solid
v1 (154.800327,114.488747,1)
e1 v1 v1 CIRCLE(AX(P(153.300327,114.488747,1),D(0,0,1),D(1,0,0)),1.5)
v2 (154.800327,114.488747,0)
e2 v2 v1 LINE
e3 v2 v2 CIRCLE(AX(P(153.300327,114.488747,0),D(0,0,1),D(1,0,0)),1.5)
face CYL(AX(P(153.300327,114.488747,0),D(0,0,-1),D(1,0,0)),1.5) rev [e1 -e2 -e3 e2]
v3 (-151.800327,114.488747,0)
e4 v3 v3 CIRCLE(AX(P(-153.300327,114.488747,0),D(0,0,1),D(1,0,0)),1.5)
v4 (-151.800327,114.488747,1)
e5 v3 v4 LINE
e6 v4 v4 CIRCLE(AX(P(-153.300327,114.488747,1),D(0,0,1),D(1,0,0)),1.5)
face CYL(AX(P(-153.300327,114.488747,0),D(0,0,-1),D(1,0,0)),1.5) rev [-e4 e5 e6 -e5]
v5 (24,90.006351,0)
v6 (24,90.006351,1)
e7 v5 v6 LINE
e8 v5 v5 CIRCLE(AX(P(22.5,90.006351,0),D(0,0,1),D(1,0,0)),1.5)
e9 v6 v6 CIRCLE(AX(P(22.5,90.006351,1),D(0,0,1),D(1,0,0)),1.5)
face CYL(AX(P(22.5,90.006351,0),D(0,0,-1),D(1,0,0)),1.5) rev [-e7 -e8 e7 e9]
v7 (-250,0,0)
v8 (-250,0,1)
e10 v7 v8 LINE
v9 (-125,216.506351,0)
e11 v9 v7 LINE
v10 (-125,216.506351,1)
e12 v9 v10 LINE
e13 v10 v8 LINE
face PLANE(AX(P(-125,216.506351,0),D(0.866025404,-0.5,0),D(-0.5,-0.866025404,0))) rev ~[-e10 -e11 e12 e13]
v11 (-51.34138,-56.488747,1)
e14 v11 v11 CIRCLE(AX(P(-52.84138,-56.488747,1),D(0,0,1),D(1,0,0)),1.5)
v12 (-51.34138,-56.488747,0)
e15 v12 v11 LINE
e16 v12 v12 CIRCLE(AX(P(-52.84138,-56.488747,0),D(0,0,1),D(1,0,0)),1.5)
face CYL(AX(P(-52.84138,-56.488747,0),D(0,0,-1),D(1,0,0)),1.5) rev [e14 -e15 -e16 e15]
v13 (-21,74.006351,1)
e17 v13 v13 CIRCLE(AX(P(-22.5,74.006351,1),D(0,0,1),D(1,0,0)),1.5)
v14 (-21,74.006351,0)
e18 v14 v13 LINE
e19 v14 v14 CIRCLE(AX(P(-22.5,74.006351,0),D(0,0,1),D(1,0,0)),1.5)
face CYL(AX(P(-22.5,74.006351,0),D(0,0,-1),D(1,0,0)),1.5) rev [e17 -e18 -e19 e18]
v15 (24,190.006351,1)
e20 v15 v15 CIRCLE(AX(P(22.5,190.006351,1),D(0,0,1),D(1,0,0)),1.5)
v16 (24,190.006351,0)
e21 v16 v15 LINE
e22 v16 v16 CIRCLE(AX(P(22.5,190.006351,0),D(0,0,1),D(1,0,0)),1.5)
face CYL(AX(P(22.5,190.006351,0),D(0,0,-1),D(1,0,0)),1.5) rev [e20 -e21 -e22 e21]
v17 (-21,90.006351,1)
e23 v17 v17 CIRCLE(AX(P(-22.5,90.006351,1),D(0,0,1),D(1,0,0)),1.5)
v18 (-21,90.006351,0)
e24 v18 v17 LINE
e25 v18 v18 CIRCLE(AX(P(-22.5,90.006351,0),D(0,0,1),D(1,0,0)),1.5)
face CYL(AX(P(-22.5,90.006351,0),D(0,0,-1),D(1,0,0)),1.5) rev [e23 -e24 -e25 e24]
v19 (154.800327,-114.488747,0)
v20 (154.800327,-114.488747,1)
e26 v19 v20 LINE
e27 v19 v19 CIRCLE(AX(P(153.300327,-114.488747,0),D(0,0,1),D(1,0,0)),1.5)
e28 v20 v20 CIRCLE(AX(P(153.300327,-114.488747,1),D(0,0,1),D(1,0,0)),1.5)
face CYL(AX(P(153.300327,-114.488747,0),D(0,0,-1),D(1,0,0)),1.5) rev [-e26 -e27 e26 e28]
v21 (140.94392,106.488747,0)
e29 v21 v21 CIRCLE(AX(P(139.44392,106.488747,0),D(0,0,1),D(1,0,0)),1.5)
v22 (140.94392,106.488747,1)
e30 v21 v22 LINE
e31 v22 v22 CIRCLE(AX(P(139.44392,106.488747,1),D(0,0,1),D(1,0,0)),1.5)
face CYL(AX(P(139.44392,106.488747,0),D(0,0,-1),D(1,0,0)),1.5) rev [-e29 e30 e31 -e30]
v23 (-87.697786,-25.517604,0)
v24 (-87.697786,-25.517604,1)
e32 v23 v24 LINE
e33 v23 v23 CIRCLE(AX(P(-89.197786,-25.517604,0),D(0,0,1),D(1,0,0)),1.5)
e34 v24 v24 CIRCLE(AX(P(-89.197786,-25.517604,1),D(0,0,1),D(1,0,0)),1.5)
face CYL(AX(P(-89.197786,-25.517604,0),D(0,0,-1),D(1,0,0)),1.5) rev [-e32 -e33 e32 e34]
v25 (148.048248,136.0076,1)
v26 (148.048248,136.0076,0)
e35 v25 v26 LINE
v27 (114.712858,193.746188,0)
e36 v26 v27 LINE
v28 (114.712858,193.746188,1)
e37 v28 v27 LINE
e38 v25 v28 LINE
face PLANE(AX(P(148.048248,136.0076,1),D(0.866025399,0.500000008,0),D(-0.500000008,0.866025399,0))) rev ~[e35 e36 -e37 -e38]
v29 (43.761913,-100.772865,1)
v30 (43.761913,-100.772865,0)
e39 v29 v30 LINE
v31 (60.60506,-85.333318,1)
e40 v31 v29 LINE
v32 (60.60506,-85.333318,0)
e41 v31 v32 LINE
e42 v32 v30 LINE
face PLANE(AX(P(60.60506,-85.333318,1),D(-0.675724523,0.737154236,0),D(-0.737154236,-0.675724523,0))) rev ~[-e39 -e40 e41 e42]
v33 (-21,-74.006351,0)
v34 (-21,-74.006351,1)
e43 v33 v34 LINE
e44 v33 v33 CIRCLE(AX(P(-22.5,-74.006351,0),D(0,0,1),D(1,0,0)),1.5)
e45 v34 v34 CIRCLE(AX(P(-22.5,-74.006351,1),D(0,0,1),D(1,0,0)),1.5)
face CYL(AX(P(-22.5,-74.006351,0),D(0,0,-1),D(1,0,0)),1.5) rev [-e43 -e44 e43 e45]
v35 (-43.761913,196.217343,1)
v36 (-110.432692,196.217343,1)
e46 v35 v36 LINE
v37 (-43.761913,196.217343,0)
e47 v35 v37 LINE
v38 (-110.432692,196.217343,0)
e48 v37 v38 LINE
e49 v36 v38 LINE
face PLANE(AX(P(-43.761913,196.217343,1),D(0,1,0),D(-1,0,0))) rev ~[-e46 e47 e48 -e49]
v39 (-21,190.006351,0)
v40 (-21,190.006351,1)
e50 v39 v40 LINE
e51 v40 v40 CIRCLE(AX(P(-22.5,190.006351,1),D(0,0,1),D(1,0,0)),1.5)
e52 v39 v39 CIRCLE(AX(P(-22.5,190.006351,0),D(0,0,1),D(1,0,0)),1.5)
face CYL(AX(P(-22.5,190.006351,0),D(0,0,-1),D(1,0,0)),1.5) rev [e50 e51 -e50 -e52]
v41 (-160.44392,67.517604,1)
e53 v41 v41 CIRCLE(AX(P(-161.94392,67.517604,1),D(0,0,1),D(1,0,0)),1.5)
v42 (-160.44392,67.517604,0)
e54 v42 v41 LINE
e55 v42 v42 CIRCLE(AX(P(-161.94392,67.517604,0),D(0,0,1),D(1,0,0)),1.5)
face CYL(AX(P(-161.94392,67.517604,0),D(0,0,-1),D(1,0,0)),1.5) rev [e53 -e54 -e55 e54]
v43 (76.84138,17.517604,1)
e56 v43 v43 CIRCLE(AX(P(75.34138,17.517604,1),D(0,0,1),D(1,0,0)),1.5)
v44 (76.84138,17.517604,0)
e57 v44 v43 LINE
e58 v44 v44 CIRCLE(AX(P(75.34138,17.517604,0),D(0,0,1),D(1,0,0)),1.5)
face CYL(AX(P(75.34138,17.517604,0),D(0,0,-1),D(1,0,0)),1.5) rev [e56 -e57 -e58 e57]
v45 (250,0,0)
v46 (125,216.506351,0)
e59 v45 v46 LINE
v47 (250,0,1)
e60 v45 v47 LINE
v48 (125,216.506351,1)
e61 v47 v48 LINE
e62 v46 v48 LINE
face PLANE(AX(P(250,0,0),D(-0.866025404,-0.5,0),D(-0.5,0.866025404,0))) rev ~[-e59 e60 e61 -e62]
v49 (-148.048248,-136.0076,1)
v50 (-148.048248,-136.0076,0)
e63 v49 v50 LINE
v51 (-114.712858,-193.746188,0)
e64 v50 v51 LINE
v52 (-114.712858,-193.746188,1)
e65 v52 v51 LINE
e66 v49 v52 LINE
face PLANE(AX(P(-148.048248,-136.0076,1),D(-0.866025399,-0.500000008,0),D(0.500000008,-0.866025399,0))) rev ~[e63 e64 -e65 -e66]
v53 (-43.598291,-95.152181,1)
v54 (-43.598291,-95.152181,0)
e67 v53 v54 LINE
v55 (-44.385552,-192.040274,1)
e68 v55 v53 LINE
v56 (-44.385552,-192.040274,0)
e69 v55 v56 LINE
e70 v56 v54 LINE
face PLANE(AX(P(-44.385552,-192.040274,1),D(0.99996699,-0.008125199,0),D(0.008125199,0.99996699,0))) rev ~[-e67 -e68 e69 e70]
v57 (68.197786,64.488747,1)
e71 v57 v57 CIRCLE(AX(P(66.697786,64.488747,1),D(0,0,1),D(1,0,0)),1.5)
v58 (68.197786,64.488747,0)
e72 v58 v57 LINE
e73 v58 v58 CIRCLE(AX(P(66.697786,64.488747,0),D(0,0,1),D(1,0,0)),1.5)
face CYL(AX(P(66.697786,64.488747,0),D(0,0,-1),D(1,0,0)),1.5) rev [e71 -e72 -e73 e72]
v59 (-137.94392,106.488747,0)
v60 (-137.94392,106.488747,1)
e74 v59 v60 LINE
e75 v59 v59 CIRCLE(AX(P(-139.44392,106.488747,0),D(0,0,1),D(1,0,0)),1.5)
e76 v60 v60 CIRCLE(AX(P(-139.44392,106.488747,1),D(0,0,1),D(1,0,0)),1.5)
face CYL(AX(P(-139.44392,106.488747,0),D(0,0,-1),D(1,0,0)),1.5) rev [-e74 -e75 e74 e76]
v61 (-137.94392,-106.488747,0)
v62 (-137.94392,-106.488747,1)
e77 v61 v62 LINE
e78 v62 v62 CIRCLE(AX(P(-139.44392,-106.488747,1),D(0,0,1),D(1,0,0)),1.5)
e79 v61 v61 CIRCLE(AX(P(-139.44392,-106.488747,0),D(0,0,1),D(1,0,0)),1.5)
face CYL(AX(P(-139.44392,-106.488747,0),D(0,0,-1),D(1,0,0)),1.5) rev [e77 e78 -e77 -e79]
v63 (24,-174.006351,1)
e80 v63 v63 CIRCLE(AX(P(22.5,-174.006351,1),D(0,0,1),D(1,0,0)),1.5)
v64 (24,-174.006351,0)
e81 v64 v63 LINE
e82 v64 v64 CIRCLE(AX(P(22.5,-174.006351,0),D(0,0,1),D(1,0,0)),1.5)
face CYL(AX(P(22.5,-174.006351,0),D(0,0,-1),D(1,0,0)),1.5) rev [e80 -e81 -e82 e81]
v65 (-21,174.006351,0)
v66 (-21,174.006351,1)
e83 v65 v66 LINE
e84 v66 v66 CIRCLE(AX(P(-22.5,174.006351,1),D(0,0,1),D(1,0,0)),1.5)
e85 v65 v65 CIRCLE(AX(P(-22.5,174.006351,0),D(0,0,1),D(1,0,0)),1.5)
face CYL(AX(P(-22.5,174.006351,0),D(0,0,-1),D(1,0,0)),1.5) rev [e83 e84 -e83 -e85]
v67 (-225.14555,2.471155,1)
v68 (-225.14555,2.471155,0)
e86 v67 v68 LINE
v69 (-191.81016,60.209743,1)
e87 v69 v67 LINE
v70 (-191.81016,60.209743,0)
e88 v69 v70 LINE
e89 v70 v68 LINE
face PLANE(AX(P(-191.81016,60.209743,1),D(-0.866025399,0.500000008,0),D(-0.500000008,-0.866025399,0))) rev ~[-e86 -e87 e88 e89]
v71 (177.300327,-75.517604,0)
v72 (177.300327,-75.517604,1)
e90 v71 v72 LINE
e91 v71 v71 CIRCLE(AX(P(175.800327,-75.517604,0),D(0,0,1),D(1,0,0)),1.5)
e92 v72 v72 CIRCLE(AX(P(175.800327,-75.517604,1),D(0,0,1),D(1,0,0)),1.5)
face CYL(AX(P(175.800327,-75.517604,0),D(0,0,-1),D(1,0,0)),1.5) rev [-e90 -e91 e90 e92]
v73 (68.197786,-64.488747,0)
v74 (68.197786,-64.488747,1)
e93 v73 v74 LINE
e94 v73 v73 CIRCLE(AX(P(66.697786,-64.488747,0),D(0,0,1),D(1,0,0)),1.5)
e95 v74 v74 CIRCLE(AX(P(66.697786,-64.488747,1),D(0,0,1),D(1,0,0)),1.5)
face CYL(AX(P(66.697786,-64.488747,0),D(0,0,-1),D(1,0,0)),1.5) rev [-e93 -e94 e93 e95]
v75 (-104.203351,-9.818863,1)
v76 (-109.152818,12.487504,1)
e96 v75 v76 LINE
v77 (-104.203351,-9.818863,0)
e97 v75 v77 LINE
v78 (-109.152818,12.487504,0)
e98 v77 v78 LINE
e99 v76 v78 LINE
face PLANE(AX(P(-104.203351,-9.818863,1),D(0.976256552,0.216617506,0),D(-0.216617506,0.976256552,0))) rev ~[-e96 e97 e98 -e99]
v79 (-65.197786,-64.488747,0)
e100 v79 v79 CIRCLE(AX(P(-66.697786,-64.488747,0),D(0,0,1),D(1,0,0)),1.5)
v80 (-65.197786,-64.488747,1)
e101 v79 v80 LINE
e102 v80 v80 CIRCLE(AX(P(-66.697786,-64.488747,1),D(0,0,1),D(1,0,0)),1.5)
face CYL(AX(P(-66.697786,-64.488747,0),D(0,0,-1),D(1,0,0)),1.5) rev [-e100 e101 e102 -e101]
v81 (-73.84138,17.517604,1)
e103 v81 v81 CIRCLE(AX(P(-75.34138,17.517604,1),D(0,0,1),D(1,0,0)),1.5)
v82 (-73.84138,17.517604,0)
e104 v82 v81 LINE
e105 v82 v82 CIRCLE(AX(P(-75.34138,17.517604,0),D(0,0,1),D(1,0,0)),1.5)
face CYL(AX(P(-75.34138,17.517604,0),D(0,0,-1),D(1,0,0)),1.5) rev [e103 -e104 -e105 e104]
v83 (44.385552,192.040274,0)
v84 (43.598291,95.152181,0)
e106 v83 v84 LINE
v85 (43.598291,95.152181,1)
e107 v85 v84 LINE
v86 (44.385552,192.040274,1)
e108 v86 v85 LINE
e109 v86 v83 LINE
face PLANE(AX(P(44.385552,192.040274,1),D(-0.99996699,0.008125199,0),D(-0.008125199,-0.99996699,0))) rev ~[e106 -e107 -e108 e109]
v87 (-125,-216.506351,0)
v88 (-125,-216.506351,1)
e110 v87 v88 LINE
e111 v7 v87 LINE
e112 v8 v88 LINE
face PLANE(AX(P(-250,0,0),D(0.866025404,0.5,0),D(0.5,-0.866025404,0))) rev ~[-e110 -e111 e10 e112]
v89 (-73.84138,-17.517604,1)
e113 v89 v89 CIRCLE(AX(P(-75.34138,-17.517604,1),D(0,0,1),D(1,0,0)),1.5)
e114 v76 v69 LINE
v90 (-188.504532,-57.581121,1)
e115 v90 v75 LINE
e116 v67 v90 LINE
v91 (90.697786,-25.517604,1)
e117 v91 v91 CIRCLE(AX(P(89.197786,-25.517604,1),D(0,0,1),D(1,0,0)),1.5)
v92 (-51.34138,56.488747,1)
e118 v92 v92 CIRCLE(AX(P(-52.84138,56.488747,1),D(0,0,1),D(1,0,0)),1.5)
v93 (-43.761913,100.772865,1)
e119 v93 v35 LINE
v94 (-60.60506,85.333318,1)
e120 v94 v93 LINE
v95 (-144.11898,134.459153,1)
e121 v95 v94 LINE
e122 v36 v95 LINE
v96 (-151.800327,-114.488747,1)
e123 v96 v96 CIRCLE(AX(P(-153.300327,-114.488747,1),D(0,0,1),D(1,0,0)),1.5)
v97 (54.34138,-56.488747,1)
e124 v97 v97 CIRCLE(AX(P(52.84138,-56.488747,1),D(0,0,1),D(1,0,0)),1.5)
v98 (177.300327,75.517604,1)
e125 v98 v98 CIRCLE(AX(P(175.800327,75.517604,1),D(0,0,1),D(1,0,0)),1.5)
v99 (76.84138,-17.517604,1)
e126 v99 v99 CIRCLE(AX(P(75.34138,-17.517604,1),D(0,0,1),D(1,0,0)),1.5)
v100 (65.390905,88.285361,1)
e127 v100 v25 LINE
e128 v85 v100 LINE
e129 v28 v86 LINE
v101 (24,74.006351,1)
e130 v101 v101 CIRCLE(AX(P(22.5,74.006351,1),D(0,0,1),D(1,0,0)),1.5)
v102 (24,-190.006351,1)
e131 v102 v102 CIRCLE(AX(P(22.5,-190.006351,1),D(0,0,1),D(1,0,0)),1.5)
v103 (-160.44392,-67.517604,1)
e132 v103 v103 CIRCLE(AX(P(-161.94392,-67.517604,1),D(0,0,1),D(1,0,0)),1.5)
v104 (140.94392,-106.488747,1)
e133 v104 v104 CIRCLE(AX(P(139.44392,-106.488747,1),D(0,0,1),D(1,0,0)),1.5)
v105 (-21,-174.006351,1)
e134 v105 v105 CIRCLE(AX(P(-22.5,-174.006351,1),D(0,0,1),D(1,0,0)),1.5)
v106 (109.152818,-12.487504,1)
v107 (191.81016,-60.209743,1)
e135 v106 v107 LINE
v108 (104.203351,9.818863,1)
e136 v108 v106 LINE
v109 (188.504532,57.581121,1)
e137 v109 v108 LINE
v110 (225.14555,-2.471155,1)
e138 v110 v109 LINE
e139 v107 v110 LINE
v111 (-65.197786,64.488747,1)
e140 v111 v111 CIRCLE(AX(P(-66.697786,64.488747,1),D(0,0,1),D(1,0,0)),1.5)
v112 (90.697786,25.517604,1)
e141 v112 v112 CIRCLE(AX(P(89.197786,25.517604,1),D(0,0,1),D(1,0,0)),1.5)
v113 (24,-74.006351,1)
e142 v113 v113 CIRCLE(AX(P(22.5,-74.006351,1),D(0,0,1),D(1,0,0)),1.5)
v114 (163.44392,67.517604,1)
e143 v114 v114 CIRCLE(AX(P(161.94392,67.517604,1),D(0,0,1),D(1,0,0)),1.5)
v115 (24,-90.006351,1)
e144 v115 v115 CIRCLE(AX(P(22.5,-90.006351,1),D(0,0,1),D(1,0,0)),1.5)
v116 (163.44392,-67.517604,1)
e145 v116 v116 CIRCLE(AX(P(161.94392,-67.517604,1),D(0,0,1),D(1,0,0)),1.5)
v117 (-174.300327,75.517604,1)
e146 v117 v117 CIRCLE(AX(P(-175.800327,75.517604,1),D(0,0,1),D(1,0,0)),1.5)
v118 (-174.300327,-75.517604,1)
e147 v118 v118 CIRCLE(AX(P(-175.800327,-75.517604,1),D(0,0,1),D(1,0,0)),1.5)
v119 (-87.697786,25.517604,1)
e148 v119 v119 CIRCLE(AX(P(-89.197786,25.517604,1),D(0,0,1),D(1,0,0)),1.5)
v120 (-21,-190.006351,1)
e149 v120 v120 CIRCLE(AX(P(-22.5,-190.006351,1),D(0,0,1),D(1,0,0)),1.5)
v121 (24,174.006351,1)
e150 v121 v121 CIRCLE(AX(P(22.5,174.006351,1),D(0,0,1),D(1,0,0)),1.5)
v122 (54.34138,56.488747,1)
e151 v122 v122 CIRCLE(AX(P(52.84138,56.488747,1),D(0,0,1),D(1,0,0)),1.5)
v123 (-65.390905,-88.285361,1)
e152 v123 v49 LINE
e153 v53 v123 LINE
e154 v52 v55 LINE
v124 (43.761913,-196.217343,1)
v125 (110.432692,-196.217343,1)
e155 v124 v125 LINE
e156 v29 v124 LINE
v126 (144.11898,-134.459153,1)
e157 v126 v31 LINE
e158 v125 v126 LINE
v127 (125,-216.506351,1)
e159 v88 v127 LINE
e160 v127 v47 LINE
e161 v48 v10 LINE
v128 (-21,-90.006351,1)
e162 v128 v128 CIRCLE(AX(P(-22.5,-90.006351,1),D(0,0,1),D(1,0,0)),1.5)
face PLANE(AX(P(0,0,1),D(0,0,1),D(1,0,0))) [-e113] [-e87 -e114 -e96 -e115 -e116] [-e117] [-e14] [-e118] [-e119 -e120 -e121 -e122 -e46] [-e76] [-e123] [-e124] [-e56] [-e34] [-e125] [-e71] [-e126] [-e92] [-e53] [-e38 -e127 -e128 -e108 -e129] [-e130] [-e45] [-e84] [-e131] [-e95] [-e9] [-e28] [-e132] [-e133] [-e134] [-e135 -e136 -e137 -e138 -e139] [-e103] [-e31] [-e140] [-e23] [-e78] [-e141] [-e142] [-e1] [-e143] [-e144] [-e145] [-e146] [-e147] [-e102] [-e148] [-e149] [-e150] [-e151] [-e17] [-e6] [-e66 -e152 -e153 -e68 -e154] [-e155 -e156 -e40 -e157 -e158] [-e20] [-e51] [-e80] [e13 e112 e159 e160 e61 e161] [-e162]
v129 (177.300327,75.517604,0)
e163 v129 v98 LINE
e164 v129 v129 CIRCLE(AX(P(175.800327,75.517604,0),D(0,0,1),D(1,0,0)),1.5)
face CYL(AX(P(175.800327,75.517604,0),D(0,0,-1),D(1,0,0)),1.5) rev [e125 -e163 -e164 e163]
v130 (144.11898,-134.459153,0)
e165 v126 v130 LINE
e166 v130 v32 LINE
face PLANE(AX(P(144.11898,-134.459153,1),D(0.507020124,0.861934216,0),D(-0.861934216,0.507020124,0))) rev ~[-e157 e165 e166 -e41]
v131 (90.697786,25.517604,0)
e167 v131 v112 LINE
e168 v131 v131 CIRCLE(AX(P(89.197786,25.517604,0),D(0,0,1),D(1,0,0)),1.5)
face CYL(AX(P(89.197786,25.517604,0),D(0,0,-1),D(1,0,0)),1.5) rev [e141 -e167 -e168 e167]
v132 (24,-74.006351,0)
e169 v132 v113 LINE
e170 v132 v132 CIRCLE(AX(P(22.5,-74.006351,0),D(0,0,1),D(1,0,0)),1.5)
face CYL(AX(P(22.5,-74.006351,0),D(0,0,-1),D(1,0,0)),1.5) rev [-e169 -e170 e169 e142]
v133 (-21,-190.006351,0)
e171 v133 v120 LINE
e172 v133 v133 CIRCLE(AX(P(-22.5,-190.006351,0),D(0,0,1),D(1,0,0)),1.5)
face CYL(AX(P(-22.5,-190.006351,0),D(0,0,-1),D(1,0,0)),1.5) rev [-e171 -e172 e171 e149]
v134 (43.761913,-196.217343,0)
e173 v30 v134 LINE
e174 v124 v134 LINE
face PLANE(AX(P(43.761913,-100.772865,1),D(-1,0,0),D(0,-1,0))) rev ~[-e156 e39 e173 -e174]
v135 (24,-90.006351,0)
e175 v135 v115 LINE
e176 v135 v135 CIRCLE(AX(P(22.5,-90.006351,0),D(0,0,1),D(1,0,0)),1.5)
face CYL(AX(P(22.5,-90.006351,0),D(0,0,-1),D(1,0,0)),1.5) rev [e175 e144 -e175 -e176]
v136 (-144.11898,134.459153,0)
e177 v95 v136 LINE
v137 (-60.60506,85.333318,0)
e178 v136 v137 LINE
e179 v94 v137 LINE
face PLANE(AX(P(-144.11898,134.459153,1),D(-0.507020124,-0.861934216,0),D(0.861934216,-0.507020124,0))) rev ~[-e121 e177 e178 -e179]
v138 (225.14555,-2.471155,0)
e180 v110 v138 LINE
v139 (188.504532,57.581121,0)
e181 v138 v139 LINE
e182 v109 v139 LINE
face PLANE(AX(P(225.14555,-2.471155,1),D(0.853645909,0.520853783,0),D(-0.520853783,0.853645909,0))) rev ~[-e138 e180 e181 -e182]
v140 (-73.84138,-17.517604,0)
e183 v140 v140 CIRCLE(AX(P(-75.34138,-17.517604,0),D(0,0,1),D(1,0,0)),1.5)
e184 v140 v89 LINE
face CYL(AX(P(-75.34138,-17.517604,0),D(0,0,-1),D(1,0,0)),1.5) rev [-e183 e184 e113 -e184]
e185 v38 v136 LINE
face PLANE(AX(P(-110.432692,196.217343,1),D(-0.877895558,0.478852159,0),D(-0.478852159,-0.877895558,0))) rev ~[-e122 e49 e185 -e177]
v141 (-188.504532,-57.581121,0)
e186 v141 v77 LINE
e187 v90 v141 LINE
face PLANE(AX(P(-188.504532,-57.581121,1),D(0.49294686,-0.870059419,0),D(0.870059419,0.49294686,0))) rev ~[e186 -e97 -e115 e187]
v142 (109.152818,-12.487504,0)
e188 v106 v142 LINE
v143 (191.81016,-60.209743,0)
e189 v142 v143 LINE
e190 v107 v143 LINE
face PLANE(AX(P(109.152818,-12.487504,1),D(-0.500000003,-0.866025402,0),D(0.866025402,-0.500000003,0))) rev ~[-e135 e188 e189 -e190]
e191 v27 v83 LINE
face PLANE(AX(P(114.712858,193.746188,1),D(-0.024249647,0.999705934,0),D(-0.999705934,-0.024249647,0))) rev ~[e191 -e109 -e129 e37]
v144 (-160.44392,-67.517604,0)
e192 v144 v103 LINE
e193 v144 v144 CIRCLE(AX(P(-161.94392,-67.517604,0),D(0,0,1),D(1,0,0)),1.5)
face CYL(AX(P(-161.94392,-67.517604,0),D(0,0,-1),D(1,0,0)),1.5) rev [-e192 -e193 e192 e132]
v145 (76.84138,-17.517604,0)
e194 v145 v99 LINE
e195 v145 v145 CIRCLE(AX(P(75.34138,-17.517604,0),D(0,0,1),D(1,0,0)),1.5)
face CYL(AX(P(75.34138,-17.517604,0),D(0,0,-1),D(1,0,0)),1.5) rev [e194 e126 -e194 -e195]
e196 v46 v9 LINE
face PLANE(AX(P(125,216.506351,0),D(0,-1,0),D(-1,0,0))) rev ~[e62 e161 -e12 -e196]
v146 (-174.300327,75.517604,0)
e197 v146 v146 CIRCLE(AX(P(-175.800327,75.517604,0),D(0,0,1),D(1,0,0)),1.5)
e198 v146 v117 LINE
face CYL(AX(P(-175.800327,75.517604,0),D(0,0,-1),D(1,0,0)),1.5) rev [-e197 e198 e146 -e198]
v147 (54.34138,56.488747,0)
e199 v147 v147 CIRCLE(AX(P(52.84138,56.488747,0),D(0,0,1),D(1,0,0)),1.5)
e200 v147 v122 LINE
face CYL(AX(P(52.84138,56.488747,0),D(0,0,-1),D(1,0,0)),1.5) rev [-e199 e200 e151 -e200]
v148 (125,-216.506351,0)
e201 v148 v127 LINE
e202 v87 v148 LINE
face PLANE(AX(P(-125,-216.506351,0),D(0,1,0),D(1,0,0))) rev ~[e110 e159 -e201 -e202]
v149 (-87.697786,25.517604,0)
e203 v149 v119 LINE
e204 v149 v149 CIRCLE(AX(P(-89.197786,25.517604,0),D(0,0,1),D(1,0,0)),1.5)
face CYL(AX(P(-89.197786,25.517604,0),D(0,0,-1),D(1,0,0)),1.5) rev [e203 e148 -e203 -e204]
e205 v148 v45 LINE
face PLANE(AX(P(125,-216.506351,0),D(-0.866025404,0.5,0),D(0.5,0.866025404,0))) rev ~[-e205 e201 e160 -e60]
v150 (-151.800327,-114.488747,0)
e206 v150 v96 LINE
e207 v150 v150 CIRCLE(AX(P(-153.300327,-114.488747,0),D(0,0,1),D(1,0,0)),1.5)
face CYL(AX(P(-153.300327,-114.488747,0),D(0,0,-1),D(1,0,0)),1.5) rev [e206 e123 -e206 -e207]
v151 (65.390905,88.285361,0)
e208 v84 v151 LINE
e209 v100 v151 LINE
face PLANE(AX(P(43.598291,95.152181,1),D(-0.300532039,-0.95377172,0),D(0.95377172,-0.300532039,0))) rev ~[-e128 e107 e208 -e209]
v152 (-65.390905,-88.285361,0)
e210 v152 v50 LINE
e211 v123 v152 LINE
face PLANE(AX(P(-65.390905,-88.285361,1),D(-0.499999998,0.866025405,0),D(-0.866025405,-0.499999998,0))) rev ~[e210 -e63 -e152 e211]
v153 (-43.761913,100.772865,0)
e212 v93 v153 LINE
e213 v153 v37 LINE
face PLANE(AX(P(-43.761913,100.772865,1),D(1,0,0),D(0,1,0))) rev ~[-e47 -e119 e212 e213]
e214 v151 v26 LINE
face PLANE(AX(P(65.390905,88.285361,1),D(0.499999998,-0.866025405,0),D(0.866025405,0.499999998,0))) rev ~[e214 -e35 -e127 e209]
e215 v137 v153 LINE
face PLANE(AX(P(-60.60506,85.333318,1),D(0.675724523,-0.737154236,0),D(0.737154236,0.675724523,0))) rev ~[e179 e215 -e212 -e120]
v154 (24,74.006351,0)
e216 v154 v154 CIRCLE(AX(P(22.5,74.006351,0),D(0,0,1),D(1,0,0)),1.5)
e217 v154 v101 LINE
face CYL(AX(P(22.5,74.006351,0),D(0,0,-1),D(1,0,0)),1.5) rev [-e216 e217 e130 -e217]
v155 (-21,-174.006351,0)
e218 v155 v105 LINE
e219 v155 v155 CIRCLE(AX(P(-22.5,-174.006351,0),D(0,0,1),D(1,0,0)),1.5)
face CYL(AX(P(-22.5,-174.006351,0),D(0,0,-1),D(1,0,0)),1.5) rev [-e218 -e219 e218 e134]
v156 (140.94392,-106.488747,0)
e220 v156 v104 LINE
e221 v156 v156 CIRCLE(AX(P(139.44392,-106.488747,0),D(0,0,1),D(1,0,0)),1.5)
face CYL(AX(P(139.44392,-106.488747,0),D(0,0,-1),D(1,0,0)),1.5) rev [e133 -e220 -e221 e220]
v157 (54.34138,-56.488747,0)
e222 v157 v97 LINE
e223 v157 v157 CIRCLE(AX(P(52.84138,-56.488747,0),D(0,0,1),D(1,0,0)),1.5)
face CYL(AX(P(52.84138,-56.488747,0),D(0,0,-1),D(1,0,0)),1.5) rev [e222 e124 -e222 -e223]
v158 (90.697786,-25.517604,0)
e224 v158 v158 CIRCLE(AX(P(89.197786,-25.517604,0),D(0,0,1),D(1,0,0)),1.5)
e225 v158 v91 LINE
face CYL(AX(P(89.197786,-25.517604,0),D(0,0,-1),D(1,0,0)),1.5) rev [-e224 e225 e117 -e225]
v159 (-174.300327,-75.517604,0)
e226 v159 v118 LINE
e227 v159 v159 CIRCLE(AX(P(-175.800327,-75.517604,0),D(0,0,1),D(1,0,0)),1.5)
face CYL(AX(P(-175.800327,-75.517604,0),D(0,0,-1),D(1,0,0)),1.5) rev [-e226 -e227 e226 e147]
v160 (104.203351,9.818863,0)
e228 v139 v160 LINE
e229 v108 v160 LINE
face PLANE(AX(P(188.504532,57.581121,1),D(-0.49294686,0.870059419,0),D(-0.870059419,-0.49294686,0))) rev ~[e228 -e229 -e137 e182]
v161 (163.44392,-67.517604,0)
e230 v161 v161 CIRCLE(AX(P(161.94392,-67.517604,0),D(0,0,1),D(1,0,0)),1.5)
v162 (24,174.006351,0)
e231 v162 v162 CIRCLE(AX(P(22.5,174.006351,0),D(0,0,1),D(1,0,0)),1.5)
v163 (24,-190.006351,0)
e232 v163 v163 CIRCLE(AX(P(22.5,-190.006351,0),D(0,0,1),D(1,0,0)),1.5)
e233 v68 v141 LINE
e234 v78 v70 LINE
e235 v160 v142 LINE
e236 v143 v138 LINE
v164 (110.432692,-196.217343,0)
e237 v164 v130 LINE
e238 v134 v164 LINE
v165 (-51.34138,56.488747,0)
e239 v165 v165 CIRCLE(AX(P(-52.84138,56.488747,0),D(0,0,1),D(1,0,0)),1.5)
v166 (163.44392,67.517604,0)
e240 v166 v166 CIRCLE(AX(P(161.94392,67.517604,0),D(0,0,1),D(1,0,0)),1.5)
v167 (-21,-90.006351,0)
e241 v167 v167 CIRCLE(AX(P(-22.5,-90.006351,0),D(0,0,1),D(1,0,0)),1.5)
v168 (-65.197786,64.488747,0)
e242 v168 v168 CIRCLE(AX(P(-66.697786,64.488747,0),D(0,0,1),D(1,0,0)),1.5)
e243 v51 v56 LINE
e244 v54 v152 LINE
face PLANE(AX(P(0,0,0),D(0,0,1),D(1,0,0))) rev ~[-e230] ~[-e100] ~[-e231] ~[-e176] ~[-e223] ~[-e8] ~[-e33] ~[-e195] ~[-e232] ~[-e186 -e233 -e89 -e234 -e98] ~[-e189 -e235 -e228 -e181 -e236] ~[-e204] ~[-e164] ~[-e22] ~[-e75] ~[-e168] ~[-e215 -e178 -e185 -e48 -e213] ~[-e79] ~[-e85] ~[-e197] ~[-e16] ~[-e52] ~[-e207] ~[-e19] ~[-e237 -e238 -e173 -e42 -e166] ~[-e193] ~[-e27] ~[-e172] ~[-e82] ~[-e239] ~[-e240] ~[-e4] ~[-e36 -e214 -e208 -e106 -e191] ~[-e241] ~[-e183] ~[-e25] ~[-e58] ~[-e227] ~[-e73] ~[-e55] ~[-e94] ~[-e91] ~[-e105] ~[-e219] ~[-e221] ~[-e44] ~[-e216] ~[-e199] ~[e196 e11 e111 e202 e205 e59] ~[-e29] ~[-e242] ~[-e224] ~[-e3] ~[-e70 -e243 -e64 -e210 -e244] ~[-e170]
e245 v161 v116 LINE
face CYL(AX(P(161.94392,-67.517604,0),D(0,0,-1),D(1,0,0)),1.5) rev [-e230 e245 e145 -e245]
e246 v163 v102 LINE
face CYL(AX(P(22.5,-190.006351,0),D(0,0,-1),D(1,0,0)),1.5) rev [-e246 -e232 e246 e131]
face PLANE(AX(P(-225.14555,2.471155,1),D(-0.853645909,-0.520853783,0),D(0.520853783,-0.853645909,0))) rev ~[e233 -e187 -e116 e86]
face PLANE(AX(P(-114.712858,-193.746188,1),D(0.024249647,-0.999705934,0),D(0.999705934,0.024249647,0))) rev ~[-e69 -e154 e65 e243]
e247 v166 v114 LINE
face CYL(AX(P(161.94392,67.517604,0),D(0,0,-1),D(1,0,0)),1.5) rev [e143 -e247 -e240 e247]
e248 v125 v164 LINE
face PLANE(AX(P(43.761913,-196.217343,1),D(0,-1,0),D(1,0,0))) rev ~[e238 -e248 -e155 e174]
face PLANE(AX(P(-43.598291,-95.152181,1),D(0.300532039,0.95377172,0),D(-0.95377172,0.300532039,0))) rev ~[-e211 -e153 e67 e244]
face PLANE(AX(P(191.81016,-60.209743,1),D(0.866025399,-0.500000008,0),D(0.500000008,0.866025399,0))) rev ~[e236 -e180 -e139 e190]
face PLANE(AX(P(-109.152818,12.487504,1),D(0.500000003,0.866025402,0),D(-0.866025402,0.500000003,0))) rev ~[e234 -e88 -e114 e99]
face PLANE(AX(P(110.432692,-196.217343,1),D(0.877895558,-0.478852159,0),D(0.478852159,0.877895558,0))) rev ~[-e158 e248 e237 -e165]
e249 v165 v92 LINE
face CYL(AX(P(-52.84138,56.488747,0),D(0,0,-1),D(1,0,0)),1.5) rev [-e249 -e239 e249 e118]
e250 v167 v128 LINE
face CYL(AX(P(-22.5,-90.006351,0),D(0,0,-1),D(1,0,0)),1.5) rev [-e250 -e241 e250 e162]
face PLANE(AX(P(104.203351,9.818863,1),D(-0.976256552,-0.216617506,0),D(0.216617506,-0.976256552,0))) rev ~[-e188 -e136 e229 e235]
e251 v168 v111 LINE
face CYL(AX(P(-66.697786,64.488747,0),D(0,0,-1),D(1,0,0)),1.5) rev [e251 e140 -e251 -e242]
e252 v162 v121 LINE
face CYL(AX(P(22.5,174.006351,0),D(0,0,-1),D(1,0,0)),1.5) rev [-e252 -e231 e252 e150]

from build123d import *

# Parameters (mm, degrees)
F0_R     = 1.5
F1_DEPTH = 1
F3_DEPTH = 25


with BuildPart() as f1:
    # F0 (on Top) → F1 (new body)
    with BuildSketch(Plane.XY):
        Polygon((125, -216.506351), (250, 0), (125, 216.506351), (-125, 216.506351), (-250, 0), (-125, -216.506351), align=None)
        with Locations((-153.300327, -114.488747)):
            Circle(F0_R, mode=Mode.SUBTRACT)
        with Locations((-22.5, -190.006351)):
            Circle(F0_R, mode=Mode.SUBTRACT)
        with Locations((-22.5, -174.006351)):
            Circle(F0_R, mode=Mode.SUBTRACT)
        with Locations((-139.44392, -106.488747)):
            Circle(F0_R, mode=Mode.SUBTRACT)
        with Locations((-175.800327, -75.517604)):
            Circle(F0_R, mode=Mode.SUBTRACT)
        with Locations((-161.94392, -67.517604)):
            Circle(F0_R, mode=Mode.SUBTRACT)
        with Locations((-66.697786, -64.488747)):
            Circle(F0_R, mode=Mode.SUBTRACT)
        with Locations((-22.5, -90.006351)):
            Circle(F0_R, mode=Mode.SUBTRACT)
        with Locations((-52.84138, -56.488747)):
            Circle(F0_R, mode=Mode.SUBTRACT)
        with Locations((-22.5, -74.006351)):
            Circle(F0_R, mode=Mode.SUBTRACT)
        with Locations((-89.197786, -25.517604)):
            Circle(F0_R, mode=Mode.SUBTRACT)
        with Locations((-75.34138, -17.517604)):
            Circle(F0_R, mode=Mode.SUBTRACT)
        with Locations((22.5, -190.006351)):
            Circle(F0_R, mode=Mode.SUBTRACT)
        with Locations((22.5, -174.006351)):
            Circle(F0_R, mode=Mode.SUBTRACT)
        with Locations((153.300327, -114.488747)):
            Circle(F0_R, mode=Mode.SUBTRACT)
        with Locations((22.5, -90.006351)):
            Circle(F0_R, mode=Mode.SUBTRACT)
        with Locations((22.5, -74.006351)):
            Circle(F0_R, mode=Mode.SUBTRACT)
        with Locations((52.84138, -56.488747)):
            Circle(F0_R, mode=Mode.SUBTRACT)
        with Locations((66.697786, -64.488747)):
            Circle(F0_R, mode=Mode.SUBTRACT)
        with Locations((75.34138, -17.517604)):
            Circle(F0_R, mode=Mode.SUBTRACT)
        with Locations((89.197786, -25.517604)):
            Circle(F0_R, mode=Mode.SUBTRACT)
        with Locations((139.44392, -106.488747)):
            Circle(F0_R, mode=Mode.SUBTRACT)
        with Locations((175.800327, -75.517604)):
            Circle(F0_R, mode=Mode.SUBTRACT)
        with Locations((161.94392, -67.517604)):
            Circle(F0_R, mode=Mode.SUBTRACT)
        with Locations((-161.94392, 67.517604)):
            Circle(F0_R, mode=Mode.SUBTRACT)
        with Locations((-175.800327, 75.517604)):
            Circle(F0_R, mode=Mode.SUBTRACT)
        with Locations((-139.44392, 106.488747)):
            Circle(F0_R, mode=Mode.SUBTRACT)
        with Locations((-89.197786, 25.517604)):
            Circle(F0_R, mode=Mode.SUBTRACT)
        with Locations((-75.34138, 17.517604)):
            Circle(F0_R, mode=Mode.SUBTRACT)
        with Locations((-66.697786, 64.488747)):
            Circle(F0_R, mode=Mode.SUBTRACT)
        with Locations((-52.84138, 56.488747)):
            Circle(F0_R, mode=Mode.SUBTRACT)
        with Locations((-22.5, 74.006351)):
            Circle(F0_R, mode=Mode.SUBTRACT)
        with Locations((-22.5, 90.006351)):
            Circle(F0_R, mode=Mode.SUBTRACT)
        with Locations((-153.300327, 114.488747)):
            Circle(F0_R, mode=Mode.SUBTRACT)
        with Locations((-22.5, 174.006351)):
            Circle(F0_R, mode=Mode.SUBTRACT)
        with Locations((-22.5, 190.006351)):
            Circle(F0_R, mode=Mode.SUBTRACT)
        with Locations((75.34138, 17.517604)):
            Circle(F0_R, mode=Mode.SUBTRACT)
        with Locations((89.197786, 25.517604)):
            Circle(F0_R, mode=Mode.SUBTRACT)
        with Locations((22.5, 74.006351)):
            Circle(F0_R, mode=Mode.SUBTRACT)
        with Locations((52.84138, 56.488747)):
            Circle(F0_R, mode=Mode.SUBTRACT)
        with Locations((22.5, 90.006351)):
            Circle(F0_R, mode=Mode.SUBTRACT)
        with Locations((66.697786, 64.488747)):
            Circle(F0_R, mode=Mode.SUBTRACT)
        with Locations((161.94392, 67.517604)):
            Circle(F0_R, mode=Mode.SUBTRACT)
        with Locations((175.800327, 75.517604)):
            Circle(F0_R, mode=Mode.SUBTRACT)
        with Locations((139.44392, 106.488747)):
            Circle(F0_R, mode=Mode.SUBTRACT)
        with Locations((22.5, 174.006351)):
            Circle(F0_R, mode=Mode.SUBTRACT)
        with Locations((22.5, 190.006351)):
            Circle(F0_R, mode=Mode.SUBTRACT)
        with Locations((153.300327, 114.488747)):
            Circle(F0_R, mode=Mode.SUBTRACT)
    extrude(amount=F1_DEPTH)

    # F2 (on face) → F3 (cut)
    with BuildSketch(Plane.XY.offset(1)):
        Polygon((-110.432692, 196.217343), (-144.11898, 134.459153), (-60.60506, 85.333318), (-43.761913, 100.772865), (-43.761913, 196.217343), align=None)
        Polygon((-225.14555, 2.471155), (-188.504532, -57.581121), (-104.203351, -9.818863), (-109.152818, 12.487504), (-191.81016, 60.209743), align=None)
        Polygon((-114.712858, -193.746188), (-44.385552, -192.040274), (-43.598291, -95.152181), (-65.390905, -88.285361), (-148.048248, -136.0076), align=None)
        Polygon((110.432692, -196.217343), (144.11898, -134.459153), (60.60506, -85.333318), (43.761913, -100.772865), (43.761913, -196.217343), align=None)
        Polygon((225.14555, -2.471155), (188.504532, 57.581121), (104.203351, 9.818863), (109.152818, -12.487504), (191.81016, -60.209743), align=None)
        Polygon((114.712858, 193.746188), (44.385552, 192.040274), (43.598291, 95.152181), (65.390905, 88.285361), (148.048248, 136.0076), align=None)
    extrude(amount=-F3_DEPTH, mode=Mode.SUBTRACT)


solid = f1.part
